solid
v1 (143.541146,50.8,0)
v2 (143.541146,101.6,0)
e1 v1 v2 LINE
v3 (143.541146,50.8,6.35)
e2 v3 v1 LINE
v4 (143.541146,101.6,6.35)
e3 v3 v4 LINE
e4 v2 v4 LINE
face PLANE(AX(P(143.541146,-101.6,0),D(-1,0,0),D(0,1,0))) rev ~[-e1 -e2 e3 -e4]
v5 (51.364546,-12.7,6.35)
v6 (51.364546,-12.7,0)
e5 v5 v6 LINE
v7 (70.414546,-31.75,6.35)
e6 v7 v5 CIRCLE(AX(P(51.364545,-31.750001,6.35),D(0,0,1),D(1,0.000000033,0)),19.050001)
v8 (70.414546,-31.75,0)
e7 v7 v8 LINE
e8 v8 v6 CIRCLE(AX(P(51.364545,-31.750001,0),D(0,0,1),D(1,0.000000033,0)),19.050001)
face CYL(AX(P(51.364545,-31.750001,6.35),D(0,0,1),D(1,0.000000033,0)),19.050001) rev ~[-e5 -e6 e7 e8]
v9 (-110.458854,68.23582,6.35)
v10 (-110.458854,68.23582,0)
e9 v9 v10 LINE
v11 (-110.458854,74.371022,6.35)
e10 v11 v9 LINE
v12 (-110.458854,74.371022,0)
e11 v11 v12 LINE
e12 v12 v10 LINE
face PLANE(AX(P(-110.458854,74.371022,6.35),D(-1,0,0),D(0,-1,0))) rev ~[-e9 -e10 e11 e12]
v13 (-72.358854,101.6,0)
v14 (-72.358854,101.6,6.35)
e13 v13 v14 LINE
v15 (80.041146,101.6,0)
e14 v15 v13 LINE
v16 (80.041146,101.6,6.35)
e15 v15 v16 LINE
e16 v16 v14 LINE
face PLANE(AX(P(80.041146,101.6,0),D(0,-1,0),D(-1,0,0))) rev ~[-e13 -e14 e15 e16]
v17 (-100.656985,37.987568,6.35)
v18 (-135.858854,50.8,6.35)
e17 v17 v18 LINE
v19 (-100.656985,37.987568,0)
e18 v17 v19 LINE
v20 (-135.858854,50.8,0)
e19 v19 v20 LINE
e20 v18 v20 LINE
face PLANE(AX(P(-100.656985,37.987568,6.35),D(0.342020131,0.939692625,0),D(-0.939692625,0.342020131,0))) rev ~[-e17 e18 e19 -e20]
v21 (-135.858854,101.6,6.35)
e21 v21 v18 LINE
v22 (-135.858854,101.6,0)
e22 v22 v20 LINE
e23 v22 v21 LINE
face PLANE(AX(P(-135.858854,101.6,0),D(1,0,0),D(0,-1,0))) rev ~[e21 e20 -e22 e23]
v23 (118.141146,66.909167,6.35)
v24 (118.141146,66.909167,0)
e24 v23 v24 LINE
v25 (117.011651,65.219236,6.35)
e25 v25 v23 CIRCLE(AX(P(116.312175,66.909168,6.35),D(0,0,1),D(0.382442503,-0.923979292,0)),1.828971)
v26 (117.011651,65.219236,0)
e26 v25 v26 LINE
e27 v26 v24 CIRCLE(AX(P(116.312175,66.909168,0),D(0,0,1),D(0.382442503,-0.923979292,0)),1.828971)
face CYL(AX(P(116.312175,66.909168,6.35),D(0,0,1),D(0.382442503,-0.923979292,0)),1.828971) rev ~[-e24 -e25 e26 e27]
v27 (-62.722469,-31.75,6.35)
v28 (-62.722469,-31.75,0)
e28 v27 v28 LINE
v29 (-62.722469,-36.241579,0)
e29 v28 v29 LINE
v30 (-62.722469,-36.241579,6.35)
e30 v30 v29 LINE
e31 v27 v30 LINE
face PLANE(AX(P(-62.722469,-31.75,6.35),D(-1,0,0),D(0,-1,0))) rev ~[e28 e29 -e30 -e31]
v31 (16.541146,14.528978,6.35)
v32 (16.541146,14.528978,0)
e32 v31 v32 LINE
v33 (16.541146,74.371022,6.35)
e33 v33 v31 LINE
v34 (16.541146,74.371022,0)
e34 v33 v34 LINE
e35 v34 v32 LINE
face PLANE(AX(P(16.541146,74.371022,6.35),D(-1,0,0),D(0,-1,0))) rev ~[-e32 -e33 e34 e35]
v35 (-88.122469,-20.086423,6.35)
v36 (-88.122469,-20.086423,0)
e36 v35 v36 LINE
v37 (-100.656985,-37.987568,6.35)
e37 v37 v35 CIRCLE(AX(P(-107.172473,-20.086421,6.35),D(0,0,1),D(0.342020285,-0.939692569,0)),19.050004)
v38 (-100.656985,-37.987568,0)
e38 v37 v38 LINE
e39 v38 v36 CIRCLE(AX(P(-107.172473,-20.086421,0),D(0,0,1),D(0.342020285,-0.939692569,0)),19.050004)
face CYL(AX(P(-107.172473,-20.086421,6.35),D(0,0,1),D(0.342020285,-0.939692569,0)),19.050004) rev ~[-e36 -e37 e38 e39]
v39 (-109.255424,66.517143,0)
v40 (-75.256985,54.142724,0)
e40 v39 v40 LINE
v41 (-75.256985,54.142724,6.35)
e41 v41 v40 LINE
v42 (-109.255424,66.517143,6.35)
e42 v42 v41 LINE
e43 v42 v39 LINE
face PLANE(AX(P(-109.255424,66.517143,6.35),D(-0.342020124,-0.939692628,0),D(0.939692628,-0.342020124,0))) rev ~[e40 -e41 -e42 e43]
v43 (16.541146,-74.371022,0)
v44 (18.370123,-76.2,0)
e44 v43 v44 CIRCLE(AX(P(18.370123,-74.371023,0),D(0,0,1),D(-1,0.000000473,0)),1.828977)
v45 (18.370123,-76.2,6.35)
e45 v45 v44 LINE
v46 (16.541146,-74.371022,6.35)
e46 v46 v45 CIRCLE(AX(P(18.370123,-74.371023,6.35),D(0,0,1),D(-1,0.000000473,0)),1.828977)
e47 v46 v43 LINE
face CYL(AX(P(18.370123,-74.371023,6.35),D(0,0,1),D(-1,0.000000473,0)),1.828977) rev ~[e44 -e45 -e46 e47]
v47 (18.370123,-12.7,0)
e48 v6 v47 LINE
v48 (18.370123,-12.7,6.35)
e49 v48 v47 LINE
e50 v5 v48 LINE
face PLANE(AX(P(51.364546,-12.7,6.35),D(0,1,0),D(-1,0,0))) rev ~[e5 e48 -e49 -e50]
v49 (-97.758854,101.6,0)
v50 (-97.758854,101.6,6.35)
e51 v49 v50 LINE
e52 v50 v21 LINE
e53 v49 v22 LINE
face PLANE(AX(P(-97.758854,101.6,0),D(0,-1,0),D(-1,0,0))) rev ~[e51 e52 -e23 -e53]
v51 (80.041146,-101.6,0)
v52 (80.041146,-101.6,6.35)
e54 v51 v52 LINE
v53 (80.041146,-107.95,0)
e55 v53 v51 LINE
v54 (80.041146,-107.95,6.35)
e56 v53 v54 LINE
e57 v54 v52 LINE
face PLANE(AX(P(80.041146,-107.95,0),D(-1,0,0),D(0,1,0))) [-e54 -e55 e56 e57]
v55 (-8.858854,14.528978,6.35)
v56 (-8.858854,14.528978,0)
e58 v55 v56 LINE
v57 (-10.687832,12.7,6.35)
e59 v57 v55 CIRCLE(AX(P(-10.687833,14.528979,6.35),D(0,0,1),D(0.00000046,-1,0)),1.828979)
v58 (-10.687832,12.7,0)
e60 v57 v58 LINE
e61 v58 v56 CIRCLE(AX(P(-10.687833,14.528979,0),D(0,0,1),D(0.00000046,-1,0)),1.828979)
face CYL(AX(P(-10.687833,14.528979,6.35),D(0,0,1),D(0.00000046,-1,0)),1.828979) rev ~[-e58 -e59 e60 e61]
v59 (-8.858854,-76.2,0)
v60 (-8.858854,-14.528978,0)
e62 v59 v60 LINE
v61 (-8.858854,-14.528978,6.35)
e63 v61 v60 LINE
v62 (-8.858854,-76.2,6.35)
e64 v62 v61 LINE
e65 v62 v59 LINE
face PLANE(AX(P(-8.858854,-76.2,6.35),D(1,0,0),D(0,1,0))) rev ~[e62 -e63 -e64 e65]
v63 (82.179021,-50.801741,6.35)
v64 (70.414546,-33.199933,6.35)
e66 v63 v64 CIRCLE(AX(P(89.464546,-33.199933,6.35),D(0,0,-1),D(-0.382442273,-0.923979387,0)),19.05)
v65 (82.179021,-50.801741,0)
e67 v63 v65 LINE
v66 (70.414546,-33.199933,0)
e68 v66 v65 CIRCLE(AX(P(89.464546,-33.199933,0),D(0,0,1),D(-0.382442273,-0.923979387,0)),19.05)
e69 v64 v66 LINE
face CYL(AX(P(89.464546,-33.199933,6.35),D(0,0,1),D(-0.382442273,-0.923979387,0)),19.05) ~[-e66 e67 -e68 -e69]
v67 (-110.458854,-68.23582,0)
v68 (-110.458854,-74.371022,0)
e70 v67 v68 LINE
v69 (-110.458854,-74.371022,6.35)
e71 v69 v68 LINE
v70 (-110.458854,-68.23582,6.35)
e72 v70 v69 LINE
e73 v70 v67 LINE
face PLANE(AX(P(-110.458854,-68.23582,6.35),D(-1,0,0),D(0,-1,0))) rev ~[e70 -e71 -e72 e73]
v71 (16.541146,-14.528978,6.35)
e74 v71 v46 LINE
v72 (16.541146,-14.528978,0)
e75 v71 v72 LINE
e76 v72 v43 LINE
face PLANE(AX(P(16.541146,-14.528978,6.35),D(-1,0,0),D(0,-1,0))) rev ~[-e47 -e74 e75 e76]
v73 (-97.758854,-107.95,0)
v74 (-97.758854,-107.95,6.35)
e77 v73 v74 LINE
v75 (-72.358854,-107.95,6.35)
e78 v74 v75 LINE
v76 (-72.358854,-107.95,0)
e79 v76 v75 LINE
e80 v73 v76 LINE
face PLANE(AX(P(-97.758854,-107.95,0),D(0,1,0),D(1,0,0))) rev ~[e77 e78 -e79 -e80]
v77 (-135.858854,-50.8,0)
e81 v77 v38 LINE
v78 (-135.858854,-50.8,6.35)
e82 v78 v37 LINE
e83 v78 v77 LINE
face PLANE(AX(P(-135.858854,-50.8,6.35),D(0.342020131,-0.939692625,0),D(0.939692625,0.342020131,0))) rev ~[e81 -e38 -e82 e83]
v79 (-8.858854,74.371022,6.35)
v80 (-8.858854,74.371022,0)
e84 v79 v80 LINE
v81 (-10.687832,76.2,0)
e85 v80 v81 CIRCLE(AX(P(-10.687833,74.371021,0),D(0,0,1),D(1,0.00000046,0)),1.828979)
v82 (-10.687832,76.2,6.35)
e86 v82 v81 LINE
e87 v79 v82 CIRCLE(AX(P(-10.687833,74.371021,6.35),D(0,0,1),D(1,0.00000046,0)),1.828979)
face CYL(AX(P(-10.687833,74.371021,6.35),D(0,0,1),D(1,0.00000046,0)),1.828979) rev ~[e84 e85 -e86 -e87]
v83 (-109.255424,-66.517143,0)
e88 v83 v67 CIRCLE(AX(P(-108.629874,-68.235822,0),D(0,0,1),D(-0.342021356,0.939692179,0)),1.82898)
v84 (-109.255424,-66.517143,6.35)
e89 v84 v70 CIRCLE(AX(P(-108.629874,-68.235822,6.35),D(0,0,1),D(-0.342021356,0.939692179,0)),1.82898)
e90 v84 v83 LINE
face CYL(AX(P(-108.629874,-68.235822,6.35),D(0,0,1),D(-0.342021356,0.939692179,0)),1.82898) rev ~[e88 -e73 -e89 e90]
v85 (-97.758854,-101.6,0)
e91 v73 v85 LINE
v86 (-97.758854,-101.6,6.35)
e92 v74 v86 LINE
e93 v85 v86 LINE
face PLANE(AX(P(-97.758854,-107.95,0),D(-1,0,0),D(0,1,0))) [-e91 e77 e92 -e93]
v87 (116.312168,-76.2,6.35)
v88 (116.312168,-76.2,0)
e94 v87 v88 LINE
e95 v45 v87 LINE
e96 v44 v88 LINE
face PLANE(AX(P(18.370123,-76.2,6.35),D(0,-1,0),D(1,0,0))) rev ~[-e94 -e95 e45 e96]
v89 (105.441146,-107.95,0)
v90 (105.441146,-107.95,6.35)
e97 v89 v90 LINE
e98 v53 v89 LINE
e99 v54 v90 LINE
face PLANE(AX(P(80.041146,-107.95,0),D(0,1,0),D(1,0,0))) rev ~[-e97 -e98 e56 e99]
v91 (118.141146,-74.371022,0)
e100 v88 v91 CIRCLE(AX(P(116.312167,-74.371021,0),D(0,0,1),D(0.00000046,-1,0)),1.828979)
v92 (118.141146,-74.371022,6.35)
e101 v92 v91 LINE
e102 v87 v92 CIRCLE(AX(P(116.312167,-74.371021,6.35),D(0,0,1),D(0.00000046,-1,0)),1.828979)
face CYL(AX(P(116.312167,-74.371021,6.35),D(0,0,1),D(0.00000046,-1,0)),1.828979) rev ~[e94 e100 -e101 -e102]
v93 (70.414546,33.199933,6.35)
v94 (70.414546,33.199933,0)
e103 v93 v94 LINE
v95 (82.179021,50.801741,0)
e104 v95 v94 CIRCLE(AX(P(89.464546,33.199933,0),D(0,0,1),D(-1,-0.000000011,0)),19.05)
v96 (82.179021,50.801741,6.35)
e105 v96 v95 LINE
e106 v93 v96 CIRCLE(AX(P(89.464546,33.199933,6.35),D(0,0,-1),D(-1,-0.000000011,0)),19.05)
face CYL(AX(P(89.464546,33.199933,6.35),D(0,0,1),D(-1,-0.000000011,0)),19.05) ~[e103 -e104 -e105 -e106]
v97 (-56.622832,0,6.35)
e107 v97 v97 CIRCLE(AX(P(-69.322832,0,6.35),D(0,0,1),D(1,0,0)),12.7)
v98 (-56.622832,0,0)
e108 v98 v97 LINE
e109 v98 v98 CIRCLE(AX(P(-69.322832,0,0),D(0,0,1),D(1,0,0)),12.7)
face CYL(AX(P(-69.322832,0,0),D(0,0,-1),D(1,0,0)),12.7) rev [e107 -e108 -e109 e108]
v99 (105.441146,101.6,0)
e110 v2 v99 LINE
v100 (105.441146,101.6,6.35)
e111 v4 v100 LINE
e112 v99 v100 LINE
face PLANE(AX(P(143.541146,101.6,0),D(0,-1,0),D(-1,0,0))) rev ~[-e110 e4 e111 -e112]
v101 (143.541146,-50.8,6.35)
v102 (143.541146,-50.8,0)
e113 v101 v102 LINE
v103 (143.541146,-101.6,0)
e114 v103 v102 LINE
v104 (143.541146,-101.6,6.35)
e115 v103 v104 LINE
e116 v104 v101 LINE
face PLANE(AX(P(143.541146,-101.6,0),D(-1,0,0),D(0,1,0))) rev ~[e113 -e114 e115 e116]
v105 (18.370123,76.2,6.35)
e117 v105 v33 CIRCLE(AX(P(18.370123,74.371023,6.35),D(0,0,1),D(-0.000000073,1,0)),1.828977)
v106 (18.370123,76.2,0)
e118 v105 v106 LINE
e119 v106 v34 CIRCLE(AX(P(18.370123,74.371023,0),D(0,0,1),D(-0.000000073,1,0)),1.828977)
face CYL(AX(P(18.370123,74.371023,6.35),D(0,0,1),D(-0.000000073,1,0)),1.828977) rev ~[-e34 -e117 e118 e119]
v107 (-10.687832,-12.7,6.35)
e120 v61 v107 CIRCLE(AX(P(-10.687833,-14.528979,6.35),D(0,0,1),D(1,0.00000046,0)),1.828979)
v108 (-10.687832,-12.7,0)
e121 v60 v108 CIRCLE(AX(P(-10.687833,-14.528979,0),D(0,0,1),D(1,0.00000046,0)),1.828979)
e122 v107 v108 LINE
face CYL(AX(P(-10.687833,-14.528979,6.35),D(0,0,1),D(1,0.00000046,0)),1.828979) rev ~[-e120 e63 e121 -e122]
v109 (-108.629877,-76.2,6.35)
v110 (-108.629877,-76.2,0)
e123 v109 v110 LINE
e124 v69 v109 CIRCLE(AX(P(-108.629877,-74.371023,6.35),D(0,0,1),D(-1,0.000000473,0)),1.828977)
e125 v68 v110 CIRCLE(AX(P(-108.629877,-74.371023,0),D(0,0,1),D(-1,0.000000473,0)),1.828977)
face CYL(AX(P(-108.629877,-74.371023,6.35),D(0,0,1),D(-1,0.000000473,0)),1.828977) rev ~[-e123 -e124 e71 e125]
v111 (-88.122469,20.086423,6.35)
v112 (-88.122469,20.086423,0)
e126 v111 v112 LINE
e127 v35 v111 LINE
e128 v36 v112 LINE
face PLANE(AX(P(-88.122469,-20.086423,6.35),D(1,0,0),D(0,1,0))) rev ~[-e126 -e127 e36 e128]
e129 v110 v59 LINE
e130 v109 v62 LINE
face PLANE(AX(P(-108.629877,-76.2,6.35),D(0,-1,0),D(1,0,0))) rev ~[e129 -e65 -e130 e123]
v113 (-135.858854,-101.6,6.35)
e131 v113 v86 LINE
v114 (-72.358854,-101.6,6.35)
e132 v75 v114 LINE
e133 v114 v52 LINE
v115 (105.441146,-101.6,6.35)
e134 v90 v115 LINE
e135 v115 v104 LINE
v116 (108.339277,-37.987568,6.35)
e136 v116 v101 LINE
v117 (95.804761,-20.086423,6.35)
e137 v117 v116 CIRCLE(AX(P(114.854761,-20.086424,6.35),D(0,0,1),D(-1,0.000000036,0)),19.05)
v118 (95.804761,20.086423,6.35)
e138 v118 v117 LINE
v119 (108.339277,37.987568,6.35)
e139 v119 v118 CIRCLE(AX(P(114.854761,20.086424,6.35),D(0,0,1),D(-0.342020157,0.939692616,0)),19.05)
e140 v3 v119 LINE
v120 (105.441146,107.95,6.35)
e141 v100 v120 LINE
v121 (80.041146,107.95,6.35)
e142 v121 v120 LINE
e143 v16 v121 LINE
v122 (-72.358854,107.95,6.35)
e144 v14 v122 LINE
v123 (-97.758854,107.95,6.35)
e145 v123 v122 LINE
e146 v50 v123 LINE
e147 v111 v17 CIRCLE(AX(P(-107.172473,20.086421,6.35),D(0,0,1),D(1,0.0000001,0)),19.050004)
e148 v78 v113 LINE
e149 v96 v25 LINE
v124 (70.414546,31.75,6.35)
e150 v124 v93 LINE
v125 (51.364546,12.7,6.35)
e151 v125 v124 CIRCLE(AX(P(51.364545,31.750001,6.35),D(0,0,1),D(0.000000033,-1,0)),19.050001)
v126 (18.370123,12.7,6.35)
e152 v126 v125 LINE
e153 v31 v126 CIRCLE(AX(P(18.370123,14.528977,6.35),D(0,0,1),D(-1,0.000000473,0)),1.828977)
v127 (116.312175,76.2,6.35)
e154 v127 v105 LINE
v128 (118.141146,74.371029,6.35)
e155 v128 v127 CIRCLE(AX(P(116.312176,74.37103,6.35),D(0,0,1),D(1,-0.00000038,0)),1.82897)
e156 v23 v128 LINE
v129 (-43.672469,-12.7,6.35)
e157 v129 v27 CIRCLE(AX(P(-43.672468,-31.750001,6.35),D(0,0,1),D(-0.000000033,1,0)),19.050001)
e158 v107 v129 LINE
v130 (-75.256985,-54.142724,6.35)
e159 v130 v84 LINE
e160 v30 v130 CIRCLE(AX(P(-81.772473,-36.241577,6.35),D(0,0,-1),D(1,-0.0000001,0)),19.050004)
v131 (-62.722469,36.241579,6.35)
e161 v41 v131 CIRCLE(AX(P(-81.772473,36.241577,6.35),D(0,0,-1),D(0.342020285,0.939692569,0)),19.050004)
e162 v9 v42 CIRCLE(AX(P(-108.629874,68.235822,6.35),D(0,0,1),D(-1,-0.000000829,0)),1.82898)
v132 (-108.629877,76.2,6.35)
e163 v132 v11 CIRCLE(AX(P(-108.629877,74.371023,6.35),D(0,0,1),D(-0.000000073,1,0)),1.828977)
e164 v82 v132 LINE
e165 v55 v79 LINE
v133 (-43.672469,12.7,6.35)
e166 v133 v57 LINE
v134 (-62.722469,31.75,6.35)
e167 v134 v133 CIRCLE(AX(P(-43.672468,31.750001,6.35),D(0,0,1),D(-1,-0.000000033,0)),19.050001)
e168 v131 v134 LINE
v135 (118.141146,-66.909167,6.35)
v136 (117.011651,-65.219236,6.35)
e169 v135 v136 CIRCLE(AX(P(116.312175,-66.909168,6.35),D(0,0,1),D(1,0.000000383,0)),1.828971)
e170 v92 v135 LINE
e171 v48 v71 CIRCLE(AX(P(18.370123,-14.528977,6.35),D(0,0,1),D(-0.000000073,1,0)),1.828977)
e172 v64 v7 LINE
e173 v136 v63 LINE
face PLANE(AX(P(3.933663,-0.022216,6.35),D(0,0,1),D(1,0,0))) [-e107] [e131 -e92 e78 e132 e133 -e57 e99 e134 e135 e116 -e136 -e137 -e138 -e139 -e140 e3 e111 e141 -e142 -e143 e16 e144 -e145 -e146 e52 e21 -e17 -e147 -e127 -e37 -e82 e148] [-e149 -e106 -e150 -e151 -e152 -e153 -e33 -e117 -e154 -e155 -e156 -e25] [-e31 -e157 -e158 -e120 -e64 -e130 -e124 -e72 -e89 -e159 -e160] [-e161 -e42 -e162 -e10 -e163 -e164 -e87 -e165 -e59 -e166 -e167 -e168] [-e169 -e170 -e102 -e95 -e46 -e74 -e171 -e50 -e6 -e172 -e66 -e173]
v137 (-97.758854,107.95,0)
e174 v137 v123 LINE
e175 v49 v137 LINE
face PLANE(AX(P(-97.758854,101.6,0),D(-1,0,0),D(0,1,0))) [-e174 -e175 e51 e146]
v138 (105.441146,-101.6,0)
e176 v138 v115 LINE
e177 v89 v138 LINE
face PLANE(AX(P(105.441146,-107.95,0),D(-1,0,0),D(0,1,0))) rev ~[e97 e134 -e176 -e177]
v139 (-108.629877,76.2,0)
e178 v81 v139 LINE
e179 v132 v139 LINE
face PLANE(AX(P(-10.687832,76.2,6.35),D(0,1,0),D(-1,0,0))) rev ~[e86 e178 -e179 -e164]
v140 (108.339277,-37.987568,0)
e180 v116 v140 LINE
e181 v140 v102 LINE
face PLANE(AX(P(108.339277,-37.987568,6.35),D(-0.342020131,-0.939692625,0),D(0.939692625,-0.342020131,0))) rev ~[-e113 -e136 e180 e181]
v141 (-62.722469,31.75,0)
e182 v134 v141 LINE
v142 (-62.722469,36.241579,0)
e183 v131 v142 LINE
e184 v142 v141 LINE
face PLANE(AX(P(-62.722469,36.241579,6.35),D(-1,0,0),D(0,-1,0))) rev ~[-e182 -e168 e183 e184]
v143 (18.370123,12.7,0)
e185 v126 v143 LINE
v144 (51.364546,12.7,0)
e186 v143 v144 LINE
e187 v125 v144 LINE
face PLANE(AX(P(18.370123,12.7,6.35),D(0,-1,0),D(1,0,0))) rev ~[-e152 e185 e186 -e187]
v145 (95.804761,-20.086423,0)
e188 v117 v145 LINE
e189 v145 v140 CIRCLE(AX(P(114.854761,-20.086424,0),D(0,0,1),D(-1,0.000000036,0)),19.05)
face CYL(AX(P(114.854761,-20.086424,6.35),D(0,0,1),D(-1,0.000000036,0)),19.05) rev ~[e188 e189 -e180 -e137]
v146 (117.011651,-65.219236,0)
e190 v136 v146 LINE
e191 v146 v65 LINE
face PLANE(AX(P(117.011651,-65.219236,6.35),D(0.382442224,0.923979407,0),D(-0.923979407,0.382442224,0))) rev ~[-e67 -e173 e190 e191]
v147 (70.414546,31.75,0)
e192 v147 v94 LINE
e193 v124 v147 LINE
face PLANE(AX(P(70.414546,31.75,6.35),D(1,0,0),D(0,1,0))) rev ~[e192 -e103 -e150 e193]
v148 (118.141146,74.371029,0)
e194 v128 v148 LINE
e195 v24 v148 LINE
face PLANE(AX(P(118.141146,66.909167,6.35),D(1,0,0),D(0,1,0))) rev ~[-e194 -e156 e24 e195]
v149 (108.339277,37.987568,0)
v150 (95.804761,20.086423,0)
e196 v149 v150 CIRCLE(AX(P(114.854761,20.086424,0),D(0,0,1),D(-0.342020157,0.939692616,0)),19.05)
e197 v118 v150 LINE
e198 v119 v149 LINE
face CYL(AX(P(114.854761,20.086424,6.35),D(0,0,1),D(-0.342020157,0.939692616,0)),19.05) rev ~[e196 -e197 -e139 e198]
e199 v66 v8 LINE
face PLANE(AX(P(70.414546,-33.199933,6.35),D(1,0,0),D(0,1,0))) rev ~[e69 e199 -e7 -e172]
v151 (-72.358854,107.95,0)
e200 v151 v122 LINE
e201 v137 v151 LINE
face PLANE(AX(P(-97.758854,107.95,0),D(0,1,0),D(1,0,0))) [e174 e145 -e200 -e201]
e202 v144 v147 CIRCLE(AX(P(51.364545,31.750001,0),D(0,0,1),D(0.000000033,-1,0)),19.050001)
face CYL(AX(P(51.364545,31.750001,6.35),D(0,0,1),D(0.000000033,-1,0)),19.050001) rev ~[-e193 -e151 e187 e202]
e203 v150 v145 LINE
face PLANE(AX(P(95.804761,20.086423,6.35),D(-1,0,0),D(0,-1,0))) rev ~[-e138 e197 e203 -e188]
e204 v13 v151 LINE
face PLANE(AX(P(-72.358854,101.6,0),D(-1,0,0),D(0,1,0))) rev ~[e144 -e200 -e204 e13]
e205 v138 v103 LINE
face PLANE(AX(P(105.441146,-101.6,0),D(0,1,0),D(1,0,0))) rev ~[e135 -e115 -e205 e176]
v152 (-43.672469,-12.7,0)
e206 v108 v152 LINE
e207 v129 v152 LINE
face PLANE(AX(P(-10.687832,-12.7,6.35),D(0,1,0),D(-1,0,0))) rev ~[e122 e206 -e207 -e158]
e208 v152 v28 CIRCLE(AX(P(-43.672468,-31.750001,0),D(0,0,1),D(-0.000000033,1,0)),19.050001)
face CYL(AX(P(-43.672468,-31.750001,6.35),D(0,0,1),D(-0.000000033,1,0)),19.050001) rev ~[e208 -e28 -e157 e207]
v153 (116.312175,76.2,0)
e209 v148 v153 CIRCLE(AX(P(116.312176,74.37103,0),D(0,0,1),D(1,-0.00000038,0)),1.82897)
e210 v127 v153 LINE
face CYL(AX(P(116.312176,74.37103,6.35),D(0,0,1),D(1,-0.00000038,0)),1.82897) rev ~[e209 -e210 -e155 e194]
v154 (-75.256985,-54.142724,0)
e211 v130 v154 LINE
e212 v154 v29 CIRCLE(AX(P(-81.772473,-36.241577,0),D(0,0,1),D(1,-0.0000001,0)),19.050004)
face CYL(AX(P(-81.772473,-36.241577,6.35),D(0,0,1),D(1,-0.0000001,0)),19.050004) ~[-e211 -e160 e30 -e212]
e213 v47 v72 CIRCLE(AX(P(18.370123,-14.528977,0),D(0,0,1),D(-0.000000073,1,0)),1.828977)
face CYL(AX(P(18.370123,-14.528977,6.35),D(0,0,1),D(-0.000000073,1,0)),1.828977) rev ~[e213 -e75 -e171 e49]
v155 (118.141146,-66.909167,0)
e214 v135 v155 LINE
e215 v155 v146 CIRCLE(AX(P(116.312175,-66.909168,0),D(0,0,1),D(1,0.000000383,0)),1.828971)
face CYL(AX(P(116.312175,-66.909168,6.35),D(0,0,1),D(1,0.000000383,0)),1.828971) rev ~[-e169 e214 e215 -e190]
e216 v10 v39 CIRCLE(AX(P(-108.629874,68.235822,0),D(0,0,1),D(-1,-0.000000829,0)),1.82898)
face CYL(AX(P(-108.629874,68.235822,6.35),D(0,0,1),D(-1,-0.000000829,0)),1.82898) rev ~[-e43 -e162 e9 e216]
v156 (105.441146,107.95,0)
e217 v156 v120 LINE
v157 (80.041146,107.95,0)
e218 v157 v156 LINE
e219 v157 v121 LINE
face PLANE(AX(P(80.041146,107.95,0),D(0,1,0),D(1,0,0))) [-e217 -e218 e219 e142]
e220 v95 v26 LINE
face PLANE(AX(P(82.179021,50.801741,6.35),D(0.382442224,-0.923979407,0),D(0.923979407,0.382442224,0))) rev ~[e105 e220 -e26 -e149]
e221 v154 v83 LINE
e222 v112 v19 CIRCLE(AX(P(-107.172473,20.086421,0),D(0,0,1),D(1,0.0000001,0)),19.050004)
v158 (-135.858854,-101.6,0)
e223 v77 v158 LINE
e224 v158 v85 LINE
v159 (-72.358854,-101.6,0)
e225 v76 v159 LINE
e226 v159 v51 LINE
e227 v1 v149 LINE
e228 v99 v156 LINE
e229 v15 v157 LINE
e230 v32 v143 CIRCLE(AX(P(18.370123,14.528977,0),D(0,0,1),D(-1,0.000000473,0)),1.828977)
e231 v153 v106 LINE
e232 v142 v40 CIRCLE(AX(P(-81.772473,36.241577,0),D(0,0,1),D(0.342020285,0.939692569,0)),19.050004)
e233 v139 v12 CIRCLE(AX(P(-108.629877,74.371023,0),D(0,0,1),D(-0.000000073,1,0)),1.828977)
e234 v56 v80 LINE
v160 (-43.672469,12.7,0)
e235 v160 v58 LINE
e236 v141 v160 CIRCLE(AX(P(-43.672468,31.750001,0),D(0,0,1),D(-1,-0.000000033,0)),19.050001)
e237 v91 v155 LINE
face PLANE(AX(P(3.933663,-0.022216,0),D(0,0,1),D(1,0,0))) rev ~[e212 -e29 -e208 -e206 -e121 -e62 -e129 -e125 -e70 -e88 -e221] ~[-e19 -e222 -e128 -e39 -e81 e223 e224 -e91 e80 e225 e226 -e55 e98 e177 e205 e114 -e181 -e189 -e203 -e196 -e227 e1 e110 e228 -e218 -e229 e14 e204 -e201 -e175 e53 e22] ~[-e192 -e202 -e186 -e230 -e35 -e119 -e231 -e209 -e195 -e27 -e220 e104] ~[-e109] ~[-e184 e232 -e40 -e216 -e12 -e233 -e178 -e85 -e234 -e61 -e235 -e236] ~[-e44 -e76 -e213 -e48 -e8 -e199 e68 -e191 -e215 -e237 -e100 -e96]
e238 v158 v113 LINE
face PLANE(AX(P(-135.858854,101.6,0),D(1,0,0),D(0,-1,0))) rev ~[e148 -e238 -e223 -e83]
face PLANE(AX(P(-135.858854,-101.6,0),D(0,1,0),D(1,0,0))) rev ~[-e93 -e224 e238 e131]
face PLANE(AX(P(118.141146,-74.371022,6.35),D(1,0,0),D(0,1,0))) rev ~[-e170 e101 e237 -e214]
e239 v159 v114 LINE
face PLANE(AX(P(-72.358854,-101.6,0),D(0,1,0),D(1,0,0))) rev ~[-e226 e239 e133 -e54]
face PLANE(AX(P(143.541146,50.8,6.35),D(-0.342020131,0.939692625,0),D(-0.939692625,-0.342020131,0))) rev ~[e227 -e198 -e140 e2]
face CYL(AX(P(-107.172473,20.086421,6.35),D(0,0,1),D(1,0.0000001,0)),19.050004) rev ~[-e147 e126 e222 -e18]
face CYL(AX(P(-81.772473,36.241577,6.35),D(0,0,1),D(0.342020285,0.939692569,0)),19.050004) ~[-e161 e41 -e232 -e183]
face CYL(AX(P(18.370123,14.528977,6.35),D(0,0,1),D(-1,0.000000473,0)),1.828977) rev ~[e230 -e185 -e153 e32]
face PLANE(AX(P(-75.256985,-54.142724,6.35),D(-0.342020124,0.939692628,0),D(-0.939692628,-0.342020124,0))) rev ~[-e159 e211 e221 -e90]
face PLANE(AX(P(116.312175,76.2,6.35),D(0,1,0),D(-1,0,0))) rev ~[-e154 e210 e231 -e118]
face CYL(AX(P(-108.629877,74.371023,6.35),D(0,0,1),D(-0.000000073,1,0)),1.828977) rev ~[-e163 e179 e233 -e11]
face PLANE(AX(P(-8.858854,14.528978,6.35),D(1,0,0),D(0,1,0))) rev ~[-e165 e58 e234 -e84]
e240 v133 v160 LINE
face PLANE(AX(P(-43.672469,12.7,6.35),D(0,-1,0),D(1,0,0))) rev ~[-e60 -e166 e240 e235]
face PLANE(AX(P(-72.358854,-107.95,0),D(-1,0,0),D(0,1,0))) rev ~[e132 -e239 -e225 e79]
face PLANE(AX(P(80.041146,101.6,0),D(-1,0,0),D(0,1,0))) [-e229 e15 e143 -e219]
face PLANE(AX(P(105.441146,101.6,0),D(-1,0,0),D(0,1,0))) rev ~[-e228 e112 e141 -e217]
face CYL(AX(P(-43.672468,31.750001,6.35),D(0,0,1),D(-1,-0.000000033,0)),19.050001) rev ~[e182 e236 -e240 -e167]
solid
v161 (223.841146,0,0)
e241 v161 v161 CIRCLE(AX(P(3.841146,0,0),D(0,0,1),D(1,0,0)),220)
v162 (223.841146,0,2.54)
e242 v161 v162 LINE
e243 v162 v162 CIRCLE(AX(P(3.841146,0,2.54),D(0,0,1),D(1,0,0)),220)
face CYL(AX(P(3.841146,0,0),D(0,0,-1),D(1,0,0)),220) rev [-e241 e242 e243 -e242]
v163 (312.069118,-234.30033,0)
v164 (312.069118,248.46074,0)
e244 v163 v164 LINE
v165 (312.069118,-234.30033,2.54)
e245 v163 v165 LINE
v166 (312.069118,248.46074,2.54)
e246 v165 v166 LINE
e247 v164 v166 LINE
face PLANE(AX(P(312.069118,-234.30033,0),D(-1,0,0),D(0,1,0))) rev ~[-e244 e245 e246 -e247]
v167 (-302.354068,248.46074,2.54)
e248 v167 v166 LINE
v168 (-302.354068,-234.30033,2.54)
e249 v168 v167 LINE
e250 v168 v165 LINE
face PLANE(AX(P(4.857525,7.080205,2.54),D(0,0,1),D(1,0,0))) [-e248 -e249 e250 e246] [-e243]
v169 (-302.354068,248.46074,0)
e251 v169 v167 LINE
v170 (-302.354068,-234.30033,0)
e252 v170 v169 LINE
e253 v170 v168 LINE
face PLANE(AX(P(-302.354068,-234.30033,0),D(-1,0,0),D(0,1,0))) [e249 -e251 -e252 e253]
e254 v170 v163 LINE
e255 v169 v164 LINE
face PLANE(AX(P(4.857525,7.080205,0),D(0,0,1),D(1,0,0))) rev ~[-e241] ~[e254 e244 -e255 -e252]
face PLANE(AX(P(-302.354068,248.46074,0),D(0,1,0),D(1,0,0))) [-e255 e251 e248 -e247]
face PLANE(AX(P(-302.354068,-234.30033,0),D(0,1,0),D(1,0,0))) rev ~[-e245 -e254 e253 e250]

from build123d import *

# Parameters (mm, degrees)
F1_R     = 12.7
F1_W     = 25.4
F1_H     = 6.35
F2_DEPTH = 6.35
F0_W     = 614.423186
F0_H     = 482.76107
F0_R     = 220
F3_DEPTH = 2.54
F5_DEPTH = 25.4
F7_DEPTH = 25.4


with BuildPart() as f2:
    # F1 (on face) → F2 (new body)
    with BuildSketch(Plane.XY):
        Polygon((-97.758854, 101.6), (-135.858854, 101.6), (-135.858854, 51.370811), (-88.397744, 33.267927), (-88.347766, -33.487785), (-135.858854, -51.12635), (-135.858854, -101.6), (-97.758854, -101.6), (-72.358854, -101.6), (80.041146, -101.6), (105.441146, -101.6), (143.541146, -101.6), (143.541146, -51.020265), (95.782734, -33.633832), (95.831849, 33.409029), (143.541146, 50.852332), (143.541146, 101.6), (105.441146, 101.6), (80.041146, 101.6), (-72.358854, 101.6), align=None)
        with Locations((-69.322832, 0)):
            Circle(F1_R, mode=Mode.SUBTRACT)
        with Locations((-85.058854, 104.775)):
            Rectangle(F1_W, F1_H)
        Polygon((-88.397744, 33.267927), (-135.858854, 51.370811), (-135.858854, -51.12635), (-88.347766, -33.487785), align=None)
        with Locations((92.741146, 104.775)):
            Rectangle(F1_W, F1_H)
        with Locations((-85.058854, -104.775)):
            Rectangle(F1_W, F1_H)
        Polygon((143.541146, -51.020265), (143.541146, 50.852332), (95.831849, 33.409029), (95.782734, -33.633832), align=None)
        with Locations((92.741146, -104.775)):
            Rectangle(F1_W, F1_H)
    extrude(amount=F2_DEPTH)

    # F4 (on face) → F5 (cut)
    with BuildSketch(Plane.XY.offset(6.35)):
        with BuildLine():
            Line((143.541146, -50.8), (143.541146, 50.8))
            Line((143.541146, 50.8), (108.339277, 37.987568))
            ThreePointArc((108.339277, 37.987568), (99.249914, 31.013054), (95.804761, 20.086423))
            Line((95.804761, 20.086423), (95.804761, -20.086423))
            ThreePointArc((95.804761, -20.086423), (99.249914, -31.013054), (108.339277, -37.987568))
            Line((108.339277, -37.987568), (143.541146, -50.8))
        make_face()
        with BuildLine():
            Line((-100.656985, 37.987568), (-135.858854, 50.8))
            Line((-135.858854, 50.8), (-135.858854, -50.8))
            Line((-135.858854, -50.8), (-100.656985, -37.987568))
            ThreePointArc((-100.656985, -37.987568), (-91.567623, -31.013054), (-88.122469, -20.086423))
            Line((-88.122469, -20.086423), (-88.122469, 20.086423))
            ThreePointArc((-88.122469, 20.086423), (-91.567623, 31.013054), (-100.656985, 37.987568))
        make_face()
    extrude(amount=-F5_DEPTH, mode=Mode.SUBTRACT)

    # F6 (on face) → F7 (cut)
    with BuildSketch(Plane.XY.offset(6.35)):
        with BuildLine():
            Line((-75.256985, -54.142724), (-109.255424, -66.517143))
            ThreePointArc((-109.255424, -66.517143), (-110.128087, -67.186762), (-110.458854, -68.23582))
            Line((-110.458854, -68.23582), (-110.458854, -74.371022))
            ThreePointArc((-110.458854, -74.371022), (-109.923159, -75.664305), (-108.629877, -76.2))
            Line((-108.629877, -76.2), (-8.858854, -76.2))
            Line((-8.858854, -76.2), (-8.858854, -14.528978))
            ThreePointArc((-8.858854, -14.528978), (-9.39455, -13.235695), (-10.687832, -12.7))
            Line((-10.687832, -12.7), (-43.672469, -12.7))
            ThreePointArc((-43.672469, -12.7), (-57.142853, -18.279616), (-62.722469, -31.75))
            Line((-62.722469, -31.75), (-62.722469, -36.241579))
            ThreePointArc((-62.722469, -36.241579), (-66.167623, -47.16821), (-75.256985, -54.142724))
        make_face()
        with BuildLine():
            Line((-62.722469, 36.241579), (-62.722469, 31.75))
            ThreePointArc((-62.722469, 31.75), (-57.142853, 18.279616), (-43.672469, 12.7))
            Line((-43.672469, 12.7), (-10.687832, 12.7))
            ThreePointArc((-10.687832, 12.7), (-9.39455, 13.235695), (-8.858854, 14.528978))
            Line((-8.858854, 14.528978), (-8.858854, 74.371022))
            ThreePointArc((-8.858854, 74.371022), (-9.39455, 75.664305), (-10.687832, 76.2))
            Line((-10.687832, 76.2), (-108.629877, 76.2))
            ThreePointArc((-108.629877, 76.2), (-109.923159, 75.664305), (-110.458854, 74.371022))
            Line((-110.458854, 74.371022), (-110.458854, 68.23582))
            ThreePointArc((-110.458854, 68.23582), (-110.128087, 67.186762), (-109.255424, 66.517143))
            Line((-109.255424, 66.517143), (-75.256985, 54.142724))
            ThreePointArc((-75.256985, 54.142724), (-66.167623, 47.16821), (-62.722469, 36.241579))
        make_face()
        with BuildLine():
            Line((82.179021, 50.801741), (117.011651, 65.219236))
            ThreePointArc((117.011651, 65.219236), (117.832776, 65.892847), (118.141146, 66.909167))
            Line((118.141146, 66.909167), (118.141146, 74.371029))
            ThreePointArc((118.141146, 74.371029), (117.605453, 75.664307), (116.312175, 76.2))
            Line((116.312175, 76.2), (18.370123, 76.2))
            ThreePointArc((18.370123, 76.2), (17.076841, 75.664305), (16.541146, 74.371022))
            Line((16.541146, 74.371022), (16.541146, 14.528978))
            ThreePointArc((16.541146, 14.528978), (17.076841, 13.235695), (18.370123, 12.7))
            Line((18.370123, 12.7), (51.364546, 12.7))
            ThreePointArc((51.364546, 12.7), (64.83493, 18.279616), (70.414546, 31.75))
            Line((70.414546, 31.75), (70.414546, 33.199933))
            ThreePointArc((70.414546, 33.199933), (73.626431, 43.785613), (82.179021, 50.801741))
        make_face()
        with BuildLine():
            ThreePointArc((82.179021, -50.801741), (73.626431, -43.785613), (70.414546, -33.199933))
            Line((70.414546, -33.199933), (70.414546, -31.75))
            ThreePointArc((70.414546, -31.75), (64.83493, -18.279616), (51.364546, -12.7))
            Line((51.364546, -12.7), (18.370123, -12.7))
            ThreePointArc((18.370123, -12.7), (17.076841, -13.235695), (16.541146, -14.528978))
            Line((16.541146, -14.528978), (16.541146, -74.371022))
            ThreePointArc((16.541146, -74.371022), (17.076841, -75.664305), (18.370123, -76.2))
            Line((18.370123, -76.2), (116.312168, -76.2))
            ThreePointArc((116.312168, -76.2), (117.60545, -75.664305), (118.141146, -74.371022))
            Line((118.141146, -74.371022), (118.141146, -66.909167))
            ThreePointArc((118.141146, -66.909167), (117.832776, -65.892847), (117.011651, -65.219236))
            Line((117.011651, -65.219236), (82.179021, -50.801741))
        make_face()
    extrude(amount=-F7_DEPTH, mode=Mode.SUBTRACT)


with BuildPart() as f3:
    # F0 (on Top) → F3 (new body)
    with BuildSketch(Plane.XY):
        with Locations((4.857525, 7.080205)):
            Rectangle(F0_W, F0_H)
        with Locations((3.841146, 0)):
            Circle(F0_R, mode=Mode.SUBTRACT)
    extrude(amount=F3_DEPTH)


solid = Compound([f2.part, f3.part])
